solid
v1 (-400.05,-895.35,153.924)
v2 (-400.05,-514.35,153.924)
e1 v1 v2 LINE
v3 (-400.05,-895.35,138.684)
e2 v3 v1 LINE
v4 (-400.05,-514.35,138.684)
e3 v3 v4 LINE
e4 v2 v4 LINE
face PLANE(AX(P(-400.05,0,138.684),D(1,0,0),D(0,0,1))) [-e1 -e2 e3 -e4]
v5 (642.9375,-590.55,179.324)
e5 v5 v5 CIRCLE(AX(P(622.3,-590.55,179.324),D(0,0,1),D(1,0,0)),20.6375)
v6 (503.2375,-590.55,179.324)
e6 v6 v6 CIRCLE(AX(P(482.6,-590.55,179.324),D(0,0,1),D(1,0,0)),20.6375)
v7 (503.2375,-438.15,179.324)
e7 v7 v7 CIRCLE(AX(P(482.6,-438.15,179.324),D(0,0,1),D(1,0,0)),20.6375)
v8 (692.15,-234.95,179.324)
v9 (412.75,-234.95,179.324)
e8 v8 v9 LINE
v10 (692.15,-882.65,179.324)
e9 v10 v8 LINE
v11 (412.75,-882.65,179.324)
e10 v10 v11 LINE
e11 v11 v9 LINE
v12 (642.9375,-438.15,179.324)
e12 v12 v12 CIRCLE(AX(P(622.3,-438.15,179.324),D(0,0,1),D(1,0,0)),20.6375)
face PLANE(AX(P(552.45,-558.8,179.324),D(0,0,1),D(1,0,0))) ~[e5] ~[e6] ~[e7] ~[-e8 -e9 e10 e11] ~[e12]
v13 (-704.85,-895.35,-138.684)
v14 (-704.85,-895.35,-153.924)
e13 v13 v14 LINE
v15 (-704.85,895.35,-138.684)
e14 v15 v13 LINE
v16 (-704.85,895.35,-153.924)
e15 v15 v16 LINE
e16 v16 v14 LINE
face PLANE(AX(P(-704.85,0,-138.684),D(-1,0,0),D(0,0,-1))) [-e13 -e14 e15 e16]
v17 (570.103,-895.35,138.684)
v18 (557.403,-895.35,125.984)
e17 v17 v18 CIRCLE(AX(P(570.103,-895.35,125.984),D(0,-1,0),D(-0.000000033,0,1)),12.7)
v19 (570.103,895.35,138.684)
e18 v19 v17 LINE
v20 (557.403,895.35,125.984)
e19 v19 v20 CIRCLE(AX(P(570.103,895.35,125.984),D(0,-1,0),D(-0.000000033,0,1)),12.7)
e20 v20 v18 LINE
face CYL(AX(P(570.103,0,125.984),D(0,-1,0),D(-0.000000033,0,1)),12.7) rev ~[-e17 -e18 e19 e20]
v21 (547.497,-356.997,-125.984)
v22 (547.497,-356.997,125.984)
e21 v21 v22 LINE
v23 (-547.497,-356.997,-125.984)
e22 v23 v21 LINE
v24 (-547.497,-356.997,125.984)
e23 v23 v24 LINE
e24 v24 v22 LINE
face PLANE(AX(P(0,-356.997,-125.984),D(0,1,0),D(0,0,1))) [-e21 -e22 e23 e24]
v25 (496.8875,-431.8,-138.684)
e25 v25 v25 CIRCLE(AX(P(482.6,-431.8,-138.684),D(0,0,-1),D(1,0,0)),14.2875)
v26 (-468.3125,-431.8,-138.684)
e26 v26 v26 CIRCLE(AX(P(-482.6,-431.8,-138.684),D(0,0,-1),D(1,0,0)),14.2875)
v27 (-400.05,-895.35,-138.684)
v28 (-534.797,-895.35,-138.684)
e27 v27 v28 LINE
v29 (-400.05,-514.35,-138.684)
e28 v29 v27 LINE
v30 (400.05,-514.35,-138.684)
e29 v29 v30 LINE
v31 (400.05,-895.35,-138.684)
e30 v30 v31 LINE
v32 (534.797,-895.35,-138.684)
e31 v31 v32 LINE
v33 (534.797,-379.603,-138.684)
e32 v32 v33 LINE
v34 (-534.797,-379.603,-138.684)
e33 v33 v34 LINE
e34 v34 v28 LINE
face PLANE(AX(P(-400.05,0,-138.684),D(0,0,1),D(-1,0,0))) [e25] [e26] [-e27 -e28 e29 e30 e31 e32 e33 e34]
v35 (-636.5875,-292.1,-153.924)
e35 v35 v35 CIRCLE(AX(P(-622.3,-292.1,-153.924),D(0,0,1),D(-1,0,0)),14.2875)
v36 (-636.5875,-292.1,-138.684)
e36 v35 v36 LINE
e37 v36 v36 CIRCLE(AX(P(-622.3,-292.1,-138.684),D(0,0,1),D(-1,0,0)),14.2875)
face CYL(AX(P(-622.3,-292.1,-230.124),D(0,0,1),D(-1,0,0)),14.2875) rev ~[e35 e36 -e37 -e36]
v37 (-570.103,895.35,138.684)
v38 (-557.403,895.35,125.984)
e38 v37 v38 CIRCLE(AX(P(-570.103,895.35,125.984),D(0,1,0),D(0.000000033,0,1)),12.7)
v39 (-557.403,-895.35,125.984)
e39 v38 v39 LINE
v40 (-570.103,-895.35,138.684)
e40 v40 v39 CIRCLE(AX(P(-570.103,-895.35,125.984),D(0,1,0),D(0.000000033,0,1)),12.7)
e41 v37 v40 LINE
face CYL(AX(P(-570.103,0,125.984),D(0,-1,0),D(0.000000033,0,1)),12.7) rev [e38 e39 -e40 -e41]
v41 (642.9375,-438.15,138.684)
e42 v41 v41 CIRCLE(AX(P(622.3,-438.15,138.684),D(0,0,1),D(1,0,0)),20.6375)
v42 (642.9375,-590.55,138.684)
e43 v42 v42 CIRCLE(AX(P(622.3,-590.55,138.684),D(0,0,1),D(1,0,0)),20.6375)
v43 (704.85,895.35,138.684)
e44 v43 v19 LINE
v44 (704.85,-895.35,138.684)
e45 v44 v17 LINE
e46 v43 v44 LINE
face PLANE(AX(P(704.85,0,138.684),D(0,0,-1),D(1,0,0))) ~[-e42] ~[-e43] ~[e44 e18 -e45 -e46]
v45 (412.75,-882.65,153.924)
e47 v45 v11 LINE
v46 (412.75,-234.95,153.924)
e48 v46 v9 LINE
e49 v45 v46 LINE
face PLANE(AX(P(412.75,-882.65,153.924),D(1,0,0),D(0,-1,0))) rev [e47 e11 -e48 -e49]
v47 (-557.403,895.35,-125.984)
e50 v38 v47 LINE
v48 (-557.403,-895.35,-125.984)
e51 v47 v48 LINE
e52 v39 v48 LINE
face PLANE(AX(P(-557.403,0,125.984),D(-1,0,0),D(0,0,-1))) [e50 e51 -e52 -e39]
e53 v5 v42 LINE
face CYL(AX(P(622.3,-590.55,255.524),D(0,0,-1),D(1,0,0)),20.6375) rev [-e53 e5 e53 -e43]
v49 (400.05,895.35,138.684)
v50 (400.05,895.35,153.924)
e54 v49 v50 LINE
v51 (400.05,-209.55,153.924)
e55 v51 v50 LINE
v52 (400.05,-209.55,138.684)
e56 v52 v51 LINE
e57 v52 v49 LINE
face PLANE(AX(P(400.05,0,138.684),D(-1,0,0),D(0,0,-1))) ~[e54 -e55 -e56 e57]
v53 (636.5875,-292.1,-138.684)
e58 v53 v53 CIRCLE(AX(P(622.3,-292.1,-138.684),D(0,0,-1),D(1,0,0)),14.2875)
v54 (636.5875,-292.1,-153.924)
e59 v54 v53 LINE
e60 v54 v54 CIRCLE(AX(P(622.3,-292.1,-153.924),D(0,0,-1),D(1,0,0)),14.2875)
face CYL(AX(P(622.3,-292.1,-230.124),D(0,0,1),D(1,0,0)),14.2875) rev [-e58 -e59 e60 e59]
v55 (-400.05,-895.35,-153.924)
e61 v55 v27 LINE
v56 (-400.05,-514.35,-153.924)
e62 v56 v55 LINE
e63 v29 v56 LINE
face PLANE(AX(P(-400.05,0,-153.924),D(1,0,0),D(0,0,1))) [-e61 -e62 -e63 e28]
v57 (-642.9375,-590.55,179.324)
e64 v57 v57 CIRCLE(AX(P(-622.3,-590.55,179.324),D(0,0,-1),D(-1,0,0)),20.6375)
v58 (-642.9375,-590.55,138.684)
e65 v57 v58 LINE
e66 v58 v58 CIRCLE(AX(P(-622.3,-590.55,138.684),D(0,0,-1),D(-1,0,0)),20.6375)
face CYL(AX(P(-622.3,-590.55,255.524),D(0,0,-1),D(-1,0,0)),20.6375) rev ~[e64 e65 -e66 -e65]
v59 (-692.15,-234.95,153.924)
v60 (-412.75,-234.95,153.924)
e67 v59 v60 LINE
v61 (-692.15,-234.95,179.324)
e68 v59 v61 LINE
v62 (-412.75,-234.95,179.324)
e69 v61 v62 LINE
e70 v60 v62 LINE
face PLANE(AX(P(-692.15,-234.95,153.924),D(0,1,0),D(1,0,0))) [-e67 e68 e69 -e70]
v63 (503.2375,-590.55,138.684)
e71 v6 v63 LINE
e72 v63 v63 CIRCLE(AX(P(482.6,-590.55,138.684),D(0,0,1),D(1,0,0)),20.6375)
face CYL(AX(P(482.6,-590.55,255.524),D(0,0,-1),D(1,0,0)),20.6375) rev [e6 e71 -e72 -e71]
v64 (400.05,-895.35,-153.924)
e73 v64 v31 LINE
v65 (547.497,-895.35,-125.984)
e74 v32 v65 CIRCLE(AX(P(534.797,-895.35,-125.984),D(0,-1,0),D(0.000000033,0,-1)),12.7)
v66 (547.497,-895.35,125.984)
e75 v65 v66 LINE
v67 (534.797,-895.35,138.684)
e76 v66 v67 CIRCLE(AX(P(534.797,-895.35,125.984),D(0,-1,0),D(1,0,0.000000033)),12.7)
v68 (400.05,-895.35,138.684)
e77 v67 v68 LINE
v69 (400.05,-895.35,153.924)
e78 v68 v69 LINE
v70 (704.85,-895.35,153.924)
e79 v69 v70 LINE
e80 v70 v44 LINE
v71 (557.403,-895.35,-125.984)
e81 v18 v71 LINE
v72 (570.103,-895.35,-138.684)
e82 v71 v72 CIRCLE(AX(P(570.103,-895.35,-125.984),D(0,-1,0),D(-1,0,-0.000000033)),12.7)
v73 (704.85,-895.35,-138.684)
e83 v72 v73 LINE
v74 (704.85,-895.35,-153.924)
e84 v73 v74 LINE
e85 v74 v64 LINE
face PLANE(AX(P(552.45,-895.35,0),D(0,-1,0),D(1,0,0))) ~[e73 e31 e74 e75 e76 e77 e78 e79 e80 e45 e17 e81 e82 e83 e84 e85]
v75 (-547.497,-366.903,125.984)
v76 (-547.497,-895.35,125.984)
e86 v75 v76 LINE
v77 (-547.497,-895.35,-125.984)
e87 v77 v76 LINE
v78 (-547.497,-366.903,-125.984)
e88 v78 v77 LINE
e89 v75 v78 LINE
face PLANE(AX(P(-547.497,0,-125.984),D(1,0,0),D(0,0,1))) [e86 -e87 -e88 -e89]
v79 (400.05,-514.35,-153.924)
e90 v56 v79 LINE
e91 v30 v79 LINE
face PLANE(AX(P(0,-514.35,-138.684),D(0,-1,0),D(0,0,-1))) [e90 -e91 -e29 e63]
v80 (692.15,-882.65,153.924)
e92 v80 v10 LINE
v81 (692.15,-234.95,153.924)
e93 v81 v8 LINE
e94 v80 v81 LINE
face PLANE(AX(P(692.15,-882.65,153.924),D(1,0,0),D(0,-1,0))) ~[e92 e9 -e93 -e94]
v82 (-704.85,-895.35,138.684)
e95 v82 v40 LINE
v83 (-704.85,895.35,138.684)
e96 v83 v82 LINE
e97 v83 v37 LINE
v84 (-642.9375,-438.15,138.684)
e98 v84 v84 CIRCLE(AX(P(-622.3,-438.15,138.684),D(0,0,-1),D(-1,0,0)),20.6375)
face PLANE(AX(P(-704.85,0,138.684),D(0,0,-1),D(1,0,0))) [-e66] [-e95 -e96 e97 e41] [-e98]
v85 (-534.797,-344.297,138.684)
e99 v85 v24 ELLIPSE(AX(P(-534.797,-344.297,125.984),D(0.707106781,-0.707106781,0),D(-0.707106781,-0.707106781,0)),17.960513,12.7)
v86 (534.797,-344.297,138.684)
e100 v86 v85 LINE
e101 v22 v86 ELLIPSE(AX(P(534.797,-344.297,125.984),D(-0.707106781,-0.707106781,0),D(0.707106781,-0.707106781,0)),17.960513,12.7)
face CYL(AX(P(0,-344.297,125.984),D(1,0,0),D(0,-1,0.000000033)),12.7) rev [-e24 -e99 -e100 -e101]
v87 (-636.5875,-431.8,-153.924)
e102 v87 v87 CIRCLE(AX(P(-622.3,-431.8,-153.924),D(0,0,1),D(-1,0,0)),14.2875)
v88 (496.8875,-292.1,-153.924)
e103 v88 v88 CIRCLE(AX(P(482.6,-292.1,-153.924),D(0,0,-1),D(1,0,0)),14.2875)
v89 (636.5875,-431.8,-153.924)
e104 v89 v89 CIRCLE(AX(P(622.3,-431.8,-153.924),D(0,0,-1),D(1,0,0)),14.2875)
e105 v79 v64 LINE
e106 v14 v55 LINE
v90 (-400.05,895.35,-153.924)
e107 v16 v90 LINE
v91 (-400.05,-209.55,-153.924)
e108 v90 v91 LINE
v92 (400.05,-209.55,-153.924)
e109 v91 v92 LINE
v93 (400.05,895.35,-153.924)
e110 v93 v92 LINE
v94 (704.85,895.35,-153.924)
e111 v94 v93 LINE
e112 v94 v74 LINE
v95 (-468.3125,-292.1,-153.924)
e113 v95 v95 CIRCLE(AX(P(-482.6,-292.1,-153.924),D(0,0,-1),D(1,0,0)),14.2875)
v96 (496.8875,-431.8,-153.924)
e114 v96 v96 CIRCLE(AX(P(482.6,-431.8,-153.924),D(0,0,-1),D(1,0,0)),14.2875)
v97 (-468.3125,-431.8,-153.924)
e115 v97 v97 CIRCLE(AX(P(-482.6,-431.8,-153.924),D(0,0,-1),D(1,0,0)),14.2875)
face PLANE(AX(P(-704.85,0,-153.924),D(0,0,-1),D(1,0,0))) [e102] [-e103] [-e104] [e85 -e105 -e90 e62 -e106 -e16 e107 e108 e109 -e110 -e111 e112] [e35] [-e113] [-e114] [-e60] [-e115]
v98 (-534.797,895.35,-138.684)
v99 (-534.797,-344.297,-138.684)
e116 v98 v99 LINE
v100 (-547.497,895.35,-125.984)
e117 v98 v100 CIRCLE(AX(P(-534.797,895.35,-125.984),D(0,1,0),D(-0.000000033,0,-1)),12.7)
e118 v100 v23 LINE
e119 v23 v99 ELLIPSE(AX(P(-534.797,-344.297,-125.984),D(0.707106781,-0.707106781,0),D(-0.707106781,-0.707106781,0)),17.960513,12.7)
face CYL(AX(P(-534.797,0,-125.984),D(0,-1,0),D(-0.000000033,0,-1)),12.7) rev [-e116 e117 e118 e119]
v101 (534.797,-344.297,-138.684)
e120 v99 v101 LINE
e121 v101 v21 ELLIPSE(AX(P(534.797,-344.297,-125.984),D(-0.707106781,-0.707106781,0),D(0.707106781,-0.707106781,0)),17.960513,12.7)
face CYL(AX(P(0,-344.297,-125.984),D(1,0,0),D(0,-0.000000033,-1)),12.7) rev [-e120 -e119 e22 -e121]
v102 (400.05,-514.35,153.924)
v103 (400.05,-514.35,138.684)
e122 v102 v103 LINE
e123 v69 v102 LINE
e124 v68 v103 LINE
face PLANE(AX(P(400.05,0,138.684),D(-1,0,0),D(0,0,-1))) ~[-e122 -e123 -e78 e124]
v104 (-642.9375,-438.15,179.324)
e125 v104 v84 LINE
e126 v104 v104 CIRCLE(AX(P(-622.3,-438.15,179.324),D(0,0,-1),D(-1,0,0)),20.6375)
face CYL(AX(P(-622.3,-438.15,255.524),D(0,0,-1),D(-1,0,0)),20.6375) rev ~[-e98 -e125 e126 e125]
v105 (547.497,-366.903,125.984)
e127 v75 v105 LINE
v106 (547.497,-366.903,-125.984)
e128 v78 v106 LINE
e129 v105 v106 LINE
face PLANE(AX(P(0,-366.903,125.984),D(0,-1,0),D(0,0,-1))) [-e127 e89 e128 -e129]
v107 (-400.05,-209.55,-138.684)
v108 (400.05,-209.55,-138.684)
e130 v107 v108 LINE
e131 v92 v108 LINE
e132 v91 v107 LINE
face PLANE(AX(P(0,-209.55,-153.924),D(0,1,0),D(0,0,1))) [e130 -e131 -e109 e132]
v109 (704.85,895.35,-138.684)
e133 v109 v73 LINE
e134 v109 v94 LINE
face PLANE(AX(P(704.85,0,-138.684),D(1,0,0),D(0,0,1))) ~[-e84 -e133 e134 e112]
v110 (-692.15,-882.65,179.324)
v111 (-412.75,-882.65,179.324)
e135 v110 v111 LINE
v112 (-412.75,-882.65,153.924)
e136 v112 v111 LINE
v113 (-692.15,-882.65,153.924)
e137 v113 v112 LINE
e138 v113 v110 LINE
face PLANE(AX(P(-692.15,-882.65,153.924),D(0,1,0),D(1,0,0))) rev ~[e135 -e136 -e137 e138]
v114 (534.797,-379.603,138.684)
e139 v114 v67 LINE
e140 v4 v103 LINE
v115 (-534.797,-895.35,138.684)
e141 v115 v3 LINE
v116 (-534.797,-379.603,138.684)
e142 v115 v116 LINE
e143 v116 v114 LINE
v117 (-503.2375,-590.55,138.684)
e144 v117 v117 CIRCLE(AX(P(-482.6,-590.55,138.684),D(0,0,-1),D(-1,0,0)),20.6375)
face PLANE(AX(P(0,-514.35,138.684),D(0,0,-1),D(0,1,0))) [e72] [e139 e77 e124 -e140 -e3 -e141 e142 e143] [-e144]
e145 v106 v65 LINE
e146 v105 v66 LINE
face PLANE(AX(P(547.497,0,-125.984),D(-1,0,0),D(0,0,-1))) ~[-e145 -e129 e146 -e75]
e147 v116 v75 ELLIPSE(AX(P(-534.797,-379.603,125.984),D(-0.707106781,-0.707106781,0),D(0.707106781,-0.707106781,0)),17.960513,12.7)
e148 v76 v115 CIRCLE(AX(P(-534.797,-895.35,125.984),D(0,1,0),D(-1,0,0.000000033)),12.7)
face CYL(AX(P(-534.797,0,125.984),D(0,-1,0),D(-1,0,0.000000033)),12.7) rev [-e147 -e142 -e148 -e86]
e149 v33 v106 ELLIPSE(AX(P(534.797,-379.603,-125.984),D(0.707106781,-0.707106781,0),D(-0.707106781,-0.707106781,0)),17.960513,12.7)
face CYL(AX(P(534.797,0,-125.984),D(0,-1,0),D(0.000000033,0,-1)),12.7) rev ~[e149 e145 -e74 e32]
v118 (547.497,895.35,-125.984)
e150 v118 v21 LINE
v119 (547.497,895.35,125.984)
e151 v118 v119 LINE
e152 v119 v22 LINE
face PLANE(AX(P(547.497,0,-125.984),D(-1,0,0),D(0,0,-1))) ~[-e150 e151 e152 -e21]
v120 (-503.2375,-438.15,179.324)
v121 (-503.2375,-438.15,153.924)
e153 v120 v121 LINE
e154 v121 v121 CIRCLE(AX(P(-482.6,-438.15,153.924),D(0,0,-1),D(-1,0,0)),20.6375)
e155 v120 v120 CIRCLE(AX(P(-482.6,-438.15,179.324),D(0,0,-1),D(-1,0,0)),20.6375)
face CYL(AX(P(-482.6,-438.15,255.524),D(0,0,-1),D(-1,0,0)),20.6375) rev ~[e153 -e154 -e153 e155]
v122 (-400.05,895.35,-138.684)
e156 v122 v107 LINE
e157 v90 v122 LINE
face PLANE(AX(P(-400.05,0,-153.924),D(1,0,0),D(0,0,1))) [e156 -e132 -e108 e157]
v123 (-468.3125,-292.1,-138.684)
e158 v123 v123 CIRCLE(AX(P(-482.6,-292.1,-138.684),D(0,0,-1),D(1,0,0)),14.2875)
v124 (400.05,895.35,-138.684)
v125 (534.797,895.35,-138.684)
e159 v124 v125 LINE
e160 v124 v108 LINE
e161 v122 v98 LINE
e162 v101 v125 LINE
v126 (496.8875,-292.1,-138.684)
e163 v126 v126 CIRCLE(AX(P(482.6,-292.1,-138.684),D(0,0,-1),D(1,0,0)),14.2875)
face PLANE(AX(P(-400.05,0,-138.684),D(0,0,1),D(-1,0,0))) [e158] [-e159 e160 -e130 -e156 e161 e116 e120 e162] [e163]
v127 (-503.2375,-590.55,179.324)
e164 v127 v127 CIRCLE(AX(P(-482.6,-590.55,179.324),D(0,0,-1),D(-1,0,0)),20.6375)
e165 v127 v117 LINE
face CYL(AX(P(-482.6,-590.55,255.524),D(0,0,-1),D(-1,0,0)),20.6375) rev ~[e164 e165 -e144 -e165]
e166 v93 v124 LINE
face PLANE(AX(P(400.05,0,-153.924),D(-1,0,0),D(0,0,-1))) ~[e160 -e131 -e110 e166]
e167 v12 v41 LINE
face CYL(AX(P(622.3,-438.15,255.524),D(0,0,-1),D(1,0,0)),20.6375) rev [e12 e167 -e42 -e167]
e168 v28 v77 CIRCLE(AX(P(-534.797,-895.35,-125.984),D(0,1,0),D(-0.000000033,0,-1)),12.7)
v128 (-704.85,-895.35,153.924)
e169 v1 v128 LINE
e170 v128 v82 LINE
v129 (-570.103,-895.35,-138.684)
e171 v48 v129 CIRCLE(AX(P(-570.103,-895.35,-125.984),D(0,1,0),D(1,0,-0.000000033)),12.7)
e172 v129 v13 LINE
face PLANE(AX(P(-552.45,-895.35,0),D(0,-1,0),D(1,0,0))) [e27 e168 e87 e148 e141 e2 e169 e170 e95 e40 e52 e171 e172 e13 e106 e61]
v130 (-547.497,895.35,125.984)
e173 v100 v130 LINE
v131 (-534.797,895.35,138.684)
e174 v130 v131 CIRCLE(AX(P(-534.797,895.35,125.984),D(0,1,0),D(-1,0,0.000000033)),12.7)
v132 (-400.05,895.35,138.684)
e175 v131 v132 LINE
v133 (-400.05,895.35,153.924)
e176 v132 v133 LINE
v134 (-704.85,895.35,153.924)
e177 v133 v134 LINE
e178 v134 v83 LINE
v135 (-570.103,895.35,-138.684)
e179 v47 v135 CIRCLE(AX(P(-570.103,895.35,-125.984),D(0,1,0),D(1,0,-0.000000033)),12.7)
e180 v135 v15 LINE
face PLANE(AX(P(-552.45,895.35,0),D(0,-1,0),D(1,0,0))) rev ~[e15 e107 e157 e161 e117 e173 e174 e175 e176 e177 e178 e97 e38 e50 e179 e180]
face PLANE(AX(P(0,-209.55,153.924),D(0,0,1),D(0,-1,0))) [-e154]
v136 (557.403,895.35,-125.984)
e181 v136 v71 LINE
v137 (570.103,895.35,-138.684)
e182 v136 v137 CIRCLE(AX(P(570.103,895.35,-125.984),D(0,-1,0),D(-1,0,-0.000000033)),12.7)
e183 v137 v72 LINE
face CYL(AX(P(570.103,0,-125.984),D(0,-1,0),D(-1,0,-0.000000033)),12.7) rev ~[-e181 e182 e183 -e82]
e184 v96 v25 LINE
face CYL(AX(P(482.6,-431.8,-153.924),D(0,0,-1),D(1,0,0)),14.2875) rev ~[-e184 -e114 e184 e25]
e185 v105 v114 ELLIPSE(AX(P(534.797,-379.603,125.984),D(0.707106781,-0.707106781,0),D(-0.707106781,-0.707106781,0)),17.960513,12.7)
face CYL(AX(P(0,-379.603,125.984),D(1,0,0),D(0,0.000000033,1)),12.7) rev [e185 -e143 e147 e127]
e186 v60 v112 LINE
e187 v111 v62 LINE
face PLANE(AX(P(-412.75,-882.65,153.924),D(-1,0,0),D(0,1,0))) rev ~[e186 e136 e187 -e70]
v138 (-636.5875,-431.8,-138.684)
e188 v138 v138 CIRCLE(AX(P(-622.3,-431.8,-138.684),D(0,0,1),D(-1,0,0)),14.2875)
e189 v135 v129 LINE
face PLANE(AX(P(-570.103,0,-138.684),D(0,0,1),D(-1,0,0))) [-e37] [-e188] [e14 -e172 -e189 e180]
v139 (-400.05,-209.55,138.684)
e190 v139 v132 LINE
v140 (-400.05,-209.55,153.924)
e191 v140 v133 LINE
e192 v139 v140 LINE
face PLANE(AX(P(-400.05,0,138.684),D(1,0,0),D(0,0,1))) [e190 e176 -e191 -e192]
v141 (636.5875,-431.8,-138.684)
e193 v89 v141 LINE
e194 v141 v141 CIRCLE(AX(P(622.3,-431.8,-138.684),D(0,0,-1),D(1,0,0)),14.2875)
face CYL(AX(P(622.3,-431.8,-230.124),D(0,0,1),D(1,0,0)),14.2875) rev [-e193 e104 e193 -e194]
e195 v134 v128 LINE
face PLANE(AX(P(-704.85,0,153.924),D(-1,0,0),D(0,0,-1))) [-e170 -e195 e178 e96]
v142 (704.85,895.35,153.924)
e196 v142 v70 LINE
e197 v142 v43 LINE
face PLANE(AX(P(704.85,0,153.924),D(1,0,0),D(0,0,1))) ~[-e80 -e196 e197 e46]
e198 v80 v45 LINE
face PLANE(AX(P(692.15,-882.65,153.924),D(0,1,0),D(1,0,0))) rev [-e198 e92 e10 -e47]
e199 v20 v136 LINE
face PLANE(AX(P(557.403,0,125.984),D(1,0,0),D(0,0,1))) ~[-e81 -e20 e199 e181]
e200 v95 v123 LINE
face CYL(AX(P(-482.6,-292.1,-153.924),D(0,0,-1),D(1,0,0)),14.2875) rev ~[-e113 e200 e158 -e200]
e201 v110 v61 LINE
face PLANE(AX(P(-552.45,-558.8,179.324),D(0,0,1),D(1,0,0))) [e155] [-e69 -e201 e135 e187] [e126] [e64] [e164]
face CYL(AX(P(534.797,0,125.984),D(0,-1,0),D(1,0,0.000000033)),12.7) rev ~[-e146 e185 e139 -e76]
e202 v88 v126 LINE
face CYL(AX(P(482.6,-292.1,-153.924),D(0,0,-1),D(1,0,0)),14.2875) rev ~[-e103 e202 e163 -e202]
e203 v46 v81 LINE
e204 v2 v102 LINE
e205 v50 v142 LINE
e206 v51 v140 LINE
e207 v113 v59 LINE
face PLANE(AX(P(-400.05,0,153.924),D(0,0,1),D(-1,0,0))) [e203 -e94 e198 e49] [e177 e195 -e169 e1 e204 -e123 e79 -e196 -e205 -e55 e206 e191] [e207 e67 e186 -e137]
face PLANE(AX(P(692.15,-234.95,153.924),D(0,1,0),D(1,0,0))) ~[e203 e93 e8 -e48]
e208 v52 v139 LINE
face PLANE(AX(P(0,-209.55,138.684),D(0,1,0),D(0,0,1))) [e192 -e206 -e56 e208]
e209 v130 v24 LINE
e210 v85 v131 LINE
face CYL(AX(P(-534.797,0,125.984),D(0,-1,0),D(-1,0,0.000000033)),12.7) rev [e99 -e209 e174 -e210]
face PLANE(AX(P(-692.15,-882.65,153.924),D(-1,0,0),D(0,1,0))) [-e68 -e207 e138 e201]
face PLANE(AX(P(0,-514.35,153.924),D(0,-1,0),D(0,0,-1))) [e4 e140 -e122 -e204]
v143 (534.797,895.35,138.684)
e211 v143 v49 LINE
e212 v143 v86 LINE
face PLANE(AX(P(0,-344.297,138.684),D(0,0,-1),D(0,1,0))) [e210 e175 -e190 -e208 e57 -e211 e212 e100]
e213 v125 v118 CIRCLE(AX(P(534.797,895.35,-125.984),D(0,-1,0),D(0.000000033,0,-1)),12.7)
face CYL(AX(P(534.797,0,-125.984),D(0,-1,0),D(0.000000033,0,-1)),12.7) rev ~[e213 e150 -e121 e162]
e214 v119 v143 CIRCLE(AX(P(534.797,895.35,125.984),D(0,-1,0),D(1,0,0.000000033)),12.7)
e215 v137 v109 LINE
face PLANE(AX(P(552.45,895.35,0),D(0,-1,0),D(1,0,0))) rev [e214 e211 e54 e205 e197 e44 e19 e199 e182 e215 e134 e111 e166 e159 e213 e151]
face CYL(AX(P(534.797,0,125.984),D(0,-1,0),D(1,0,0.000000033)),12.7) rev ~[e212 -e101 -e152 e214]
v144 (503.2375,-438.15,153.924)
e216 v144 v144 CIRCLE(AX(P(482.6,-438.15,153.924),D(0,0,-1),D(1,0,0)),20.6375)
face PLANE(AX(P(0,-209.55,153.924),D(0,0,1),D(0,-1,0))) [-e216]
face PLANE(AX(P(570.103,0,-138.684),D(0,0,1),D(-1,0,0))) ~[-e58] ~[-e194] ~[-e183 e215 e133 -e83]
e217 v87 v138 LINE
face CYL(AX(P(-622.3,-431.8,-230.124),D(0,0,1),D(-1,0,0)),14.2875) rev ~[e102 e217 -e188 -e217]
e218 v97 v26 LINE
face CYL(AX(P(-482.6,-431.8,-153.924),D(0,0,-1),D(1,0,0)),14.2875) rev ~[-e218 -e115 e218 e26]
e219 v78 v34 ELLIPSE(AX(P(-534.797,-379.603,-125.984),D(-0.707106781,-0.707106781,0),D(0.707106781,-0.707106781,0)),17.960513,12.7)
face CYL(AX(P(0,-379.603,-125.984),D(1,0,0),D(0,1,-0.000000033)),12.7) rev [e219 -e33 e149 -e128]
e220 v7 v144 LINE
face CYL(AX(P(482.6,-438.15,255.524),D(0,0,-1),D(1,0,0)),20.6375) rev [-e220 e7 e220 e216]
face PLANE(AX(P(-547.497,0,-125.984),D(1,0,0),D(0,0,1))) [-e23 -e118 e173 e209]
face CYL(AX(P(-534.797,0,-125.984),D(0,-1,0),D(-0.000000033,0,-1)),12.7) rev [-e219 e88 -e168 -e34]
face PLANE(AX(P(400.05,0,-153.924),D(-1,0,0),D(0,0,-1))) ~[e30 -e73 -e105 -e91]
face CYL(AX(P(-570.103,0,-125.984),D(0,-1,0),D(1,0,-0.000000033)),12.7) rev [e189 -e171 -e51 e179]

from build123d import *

# Parameters (mm, degrees)
F1_DEPTH  = 895.35
F2_W      = 279.4
F2_H      = 647.7
F3_DEPTH  = 25.4
F5_D      = 41.275
F5_DEPTH  = 76.2
F7_D      = 28.575
F7_DEPTH  = 76.2
F10_DEPTH = 552.45
F11_R     = 14.2875
F12_DEPTH = 76.2


with BuildPart() as f1:
    # F0 (on Front) → F1 (new body, symmetric)
    with BuildSketch(Plane.XZ):
        with BuildLine():
            Line((-400.05, 153.924), (-704.85, 153.924))
            Line((-704.85, 153.924), (-704.85, 138.684))
            Line((-704.85, 138.684), (-570.103, 138.684))
            ThreePointArc((-570.103, 138.684), (-561.122744, 134.964256), (-557.403, 125.984))
            Line((-557.403, 125.984), (-557.403, -125.984))
            ThreePointArc((-557.403, -125.984), (-561.122744, -134.964256), (-570.103, -138.684))
            Line((-570.103, -138.684), (-704.85, -138.684))
            Line((-704.85, -138.684), (-704.85, -153.924))
            Line((-704.85, -153.924), (-400.05, -153.924))
            Line((-400.05, -153.924), (-400.05, -138.684))
            Line((-400.05, -138.684), (-534.797, -138.684))
            ThreePointArc((-534.797, -138.684), (-543.777256, -134.964256), (-547.497, -125.984))
            Line((-547.497, -125.984), (-547.497, 125.984))
            ThreePointArc((-547.497, 125.984), (-543.777256, 134.964256), (-534.797, 138.684))
            Line((-534.797, 138.684), (-400.05, 138.684))
            Line((-400.05, 138.684), (-400.05, 153.924))
        make_face()
    extrude(amount=F1_DEPTH, both=True)

    # F2 (on face) → F3 (join)
    with BuildSketch(Plane.XY.offset(153.924)):
        with Locations((-552.45, -558.8)):
            Rectangle(F2_W, F2_H)
    extrude(amount=F3_DEPTH)

    # F5
    with Locations(Plane.XY.offset(179.324)):
        with Locations((-622.3, -438.15), (-482.6, -438.15), (-622.3, -590.55), (-482.6, -590.55)):
            Hole(F5_D / 2, depth=F5_DEPTH)

    # F7
    with Locations(Plane(origin=(0, 0, -153.924), x_dir=(1, 0, 0), z_dir=(0, 0, -1))):
        with Locations((-482.6, 431.8), (-482.6, 292.1), (-622.3, 431.8), (-622.3, 292.1)):
            Hole(F7_D / 2, depth=F7_DEPTH)



with BuildPart() as f8_1:
    # F8: instance of F1
    add(f1.part.mirror(Plane.YZ))


with BuildPart() as f1_1:
    add(f1.part)

    add(f8_1.part)  # F10 merges F8_1
    # F9 (on Right) → F10 (join, symmetric)
    with BuildSketch(Plane.YZ):
        with BuildLine():
            Line((-209.55, 153.924), (-514.35, 153.924))
            Line((-514.35, 153.924), (-514.35, 138.684))
            Line((-514.35, 138.684), (-379.603, 138.684))
            ThreePointArc((-379.603, 138.684), (-370.622744, 134.964256), (-366.903, 125.984))
            Line((-366.903, 125.984), (-366.903, -125.984))
            ThreePointArc((-366.903, -125.984), (-370.622744, -134.964256), (-379.603, -138.684))
            Line((-379.603, -138.684), (-514.35, -138.684))
            Line((-514.35, -138.684), (-514.35, -153.924))
            Line((-514.35, -153.924), (-209.55, -153.924))
            Line((-209.55, -153.924), (-209.55, -138.684))
            Line((-209.55, -138.684), (-344.297, -138.684))
            ThreePointArc((-344.297, -138.684), (-353.277256, -134.964256), (-356.997, -125.984))
            Line((-356.997, -125.984), (-356.997, 125.984))
            ThreePointArc((-356.997, 125.984), (-353.277256, 134.964256), (-344.297, 138.684))
            Line((-344.297, 138.684), (-209.55, 138.684))
            Line((-209.55, 138.684), (-209.55, 153.924))
        make_face()
    extrude(amount=F10_DEPTH, both=True)

    # F11 (on face) → F12 (cut)
    with BuildSketch(Plane(origin=(0, 0, -153.924), x_dir=(1, 0, 0), z_dir=(0, 0, -1))):
        with Locations((-482.6, 431.8)):
            Circle(F11_R)
        with Locations((-482.6, 292.1)):
            Circle(F11_R)
        with Locations((482.6, 431.8)):
            Circle(F11_R)
        with Locations((482.6, 292.1)):
            Circle(F11_R)
    extrude(amount=-F12_DEPTH, mode=Mode.SUBTRACT)


solid = f1_1.part
